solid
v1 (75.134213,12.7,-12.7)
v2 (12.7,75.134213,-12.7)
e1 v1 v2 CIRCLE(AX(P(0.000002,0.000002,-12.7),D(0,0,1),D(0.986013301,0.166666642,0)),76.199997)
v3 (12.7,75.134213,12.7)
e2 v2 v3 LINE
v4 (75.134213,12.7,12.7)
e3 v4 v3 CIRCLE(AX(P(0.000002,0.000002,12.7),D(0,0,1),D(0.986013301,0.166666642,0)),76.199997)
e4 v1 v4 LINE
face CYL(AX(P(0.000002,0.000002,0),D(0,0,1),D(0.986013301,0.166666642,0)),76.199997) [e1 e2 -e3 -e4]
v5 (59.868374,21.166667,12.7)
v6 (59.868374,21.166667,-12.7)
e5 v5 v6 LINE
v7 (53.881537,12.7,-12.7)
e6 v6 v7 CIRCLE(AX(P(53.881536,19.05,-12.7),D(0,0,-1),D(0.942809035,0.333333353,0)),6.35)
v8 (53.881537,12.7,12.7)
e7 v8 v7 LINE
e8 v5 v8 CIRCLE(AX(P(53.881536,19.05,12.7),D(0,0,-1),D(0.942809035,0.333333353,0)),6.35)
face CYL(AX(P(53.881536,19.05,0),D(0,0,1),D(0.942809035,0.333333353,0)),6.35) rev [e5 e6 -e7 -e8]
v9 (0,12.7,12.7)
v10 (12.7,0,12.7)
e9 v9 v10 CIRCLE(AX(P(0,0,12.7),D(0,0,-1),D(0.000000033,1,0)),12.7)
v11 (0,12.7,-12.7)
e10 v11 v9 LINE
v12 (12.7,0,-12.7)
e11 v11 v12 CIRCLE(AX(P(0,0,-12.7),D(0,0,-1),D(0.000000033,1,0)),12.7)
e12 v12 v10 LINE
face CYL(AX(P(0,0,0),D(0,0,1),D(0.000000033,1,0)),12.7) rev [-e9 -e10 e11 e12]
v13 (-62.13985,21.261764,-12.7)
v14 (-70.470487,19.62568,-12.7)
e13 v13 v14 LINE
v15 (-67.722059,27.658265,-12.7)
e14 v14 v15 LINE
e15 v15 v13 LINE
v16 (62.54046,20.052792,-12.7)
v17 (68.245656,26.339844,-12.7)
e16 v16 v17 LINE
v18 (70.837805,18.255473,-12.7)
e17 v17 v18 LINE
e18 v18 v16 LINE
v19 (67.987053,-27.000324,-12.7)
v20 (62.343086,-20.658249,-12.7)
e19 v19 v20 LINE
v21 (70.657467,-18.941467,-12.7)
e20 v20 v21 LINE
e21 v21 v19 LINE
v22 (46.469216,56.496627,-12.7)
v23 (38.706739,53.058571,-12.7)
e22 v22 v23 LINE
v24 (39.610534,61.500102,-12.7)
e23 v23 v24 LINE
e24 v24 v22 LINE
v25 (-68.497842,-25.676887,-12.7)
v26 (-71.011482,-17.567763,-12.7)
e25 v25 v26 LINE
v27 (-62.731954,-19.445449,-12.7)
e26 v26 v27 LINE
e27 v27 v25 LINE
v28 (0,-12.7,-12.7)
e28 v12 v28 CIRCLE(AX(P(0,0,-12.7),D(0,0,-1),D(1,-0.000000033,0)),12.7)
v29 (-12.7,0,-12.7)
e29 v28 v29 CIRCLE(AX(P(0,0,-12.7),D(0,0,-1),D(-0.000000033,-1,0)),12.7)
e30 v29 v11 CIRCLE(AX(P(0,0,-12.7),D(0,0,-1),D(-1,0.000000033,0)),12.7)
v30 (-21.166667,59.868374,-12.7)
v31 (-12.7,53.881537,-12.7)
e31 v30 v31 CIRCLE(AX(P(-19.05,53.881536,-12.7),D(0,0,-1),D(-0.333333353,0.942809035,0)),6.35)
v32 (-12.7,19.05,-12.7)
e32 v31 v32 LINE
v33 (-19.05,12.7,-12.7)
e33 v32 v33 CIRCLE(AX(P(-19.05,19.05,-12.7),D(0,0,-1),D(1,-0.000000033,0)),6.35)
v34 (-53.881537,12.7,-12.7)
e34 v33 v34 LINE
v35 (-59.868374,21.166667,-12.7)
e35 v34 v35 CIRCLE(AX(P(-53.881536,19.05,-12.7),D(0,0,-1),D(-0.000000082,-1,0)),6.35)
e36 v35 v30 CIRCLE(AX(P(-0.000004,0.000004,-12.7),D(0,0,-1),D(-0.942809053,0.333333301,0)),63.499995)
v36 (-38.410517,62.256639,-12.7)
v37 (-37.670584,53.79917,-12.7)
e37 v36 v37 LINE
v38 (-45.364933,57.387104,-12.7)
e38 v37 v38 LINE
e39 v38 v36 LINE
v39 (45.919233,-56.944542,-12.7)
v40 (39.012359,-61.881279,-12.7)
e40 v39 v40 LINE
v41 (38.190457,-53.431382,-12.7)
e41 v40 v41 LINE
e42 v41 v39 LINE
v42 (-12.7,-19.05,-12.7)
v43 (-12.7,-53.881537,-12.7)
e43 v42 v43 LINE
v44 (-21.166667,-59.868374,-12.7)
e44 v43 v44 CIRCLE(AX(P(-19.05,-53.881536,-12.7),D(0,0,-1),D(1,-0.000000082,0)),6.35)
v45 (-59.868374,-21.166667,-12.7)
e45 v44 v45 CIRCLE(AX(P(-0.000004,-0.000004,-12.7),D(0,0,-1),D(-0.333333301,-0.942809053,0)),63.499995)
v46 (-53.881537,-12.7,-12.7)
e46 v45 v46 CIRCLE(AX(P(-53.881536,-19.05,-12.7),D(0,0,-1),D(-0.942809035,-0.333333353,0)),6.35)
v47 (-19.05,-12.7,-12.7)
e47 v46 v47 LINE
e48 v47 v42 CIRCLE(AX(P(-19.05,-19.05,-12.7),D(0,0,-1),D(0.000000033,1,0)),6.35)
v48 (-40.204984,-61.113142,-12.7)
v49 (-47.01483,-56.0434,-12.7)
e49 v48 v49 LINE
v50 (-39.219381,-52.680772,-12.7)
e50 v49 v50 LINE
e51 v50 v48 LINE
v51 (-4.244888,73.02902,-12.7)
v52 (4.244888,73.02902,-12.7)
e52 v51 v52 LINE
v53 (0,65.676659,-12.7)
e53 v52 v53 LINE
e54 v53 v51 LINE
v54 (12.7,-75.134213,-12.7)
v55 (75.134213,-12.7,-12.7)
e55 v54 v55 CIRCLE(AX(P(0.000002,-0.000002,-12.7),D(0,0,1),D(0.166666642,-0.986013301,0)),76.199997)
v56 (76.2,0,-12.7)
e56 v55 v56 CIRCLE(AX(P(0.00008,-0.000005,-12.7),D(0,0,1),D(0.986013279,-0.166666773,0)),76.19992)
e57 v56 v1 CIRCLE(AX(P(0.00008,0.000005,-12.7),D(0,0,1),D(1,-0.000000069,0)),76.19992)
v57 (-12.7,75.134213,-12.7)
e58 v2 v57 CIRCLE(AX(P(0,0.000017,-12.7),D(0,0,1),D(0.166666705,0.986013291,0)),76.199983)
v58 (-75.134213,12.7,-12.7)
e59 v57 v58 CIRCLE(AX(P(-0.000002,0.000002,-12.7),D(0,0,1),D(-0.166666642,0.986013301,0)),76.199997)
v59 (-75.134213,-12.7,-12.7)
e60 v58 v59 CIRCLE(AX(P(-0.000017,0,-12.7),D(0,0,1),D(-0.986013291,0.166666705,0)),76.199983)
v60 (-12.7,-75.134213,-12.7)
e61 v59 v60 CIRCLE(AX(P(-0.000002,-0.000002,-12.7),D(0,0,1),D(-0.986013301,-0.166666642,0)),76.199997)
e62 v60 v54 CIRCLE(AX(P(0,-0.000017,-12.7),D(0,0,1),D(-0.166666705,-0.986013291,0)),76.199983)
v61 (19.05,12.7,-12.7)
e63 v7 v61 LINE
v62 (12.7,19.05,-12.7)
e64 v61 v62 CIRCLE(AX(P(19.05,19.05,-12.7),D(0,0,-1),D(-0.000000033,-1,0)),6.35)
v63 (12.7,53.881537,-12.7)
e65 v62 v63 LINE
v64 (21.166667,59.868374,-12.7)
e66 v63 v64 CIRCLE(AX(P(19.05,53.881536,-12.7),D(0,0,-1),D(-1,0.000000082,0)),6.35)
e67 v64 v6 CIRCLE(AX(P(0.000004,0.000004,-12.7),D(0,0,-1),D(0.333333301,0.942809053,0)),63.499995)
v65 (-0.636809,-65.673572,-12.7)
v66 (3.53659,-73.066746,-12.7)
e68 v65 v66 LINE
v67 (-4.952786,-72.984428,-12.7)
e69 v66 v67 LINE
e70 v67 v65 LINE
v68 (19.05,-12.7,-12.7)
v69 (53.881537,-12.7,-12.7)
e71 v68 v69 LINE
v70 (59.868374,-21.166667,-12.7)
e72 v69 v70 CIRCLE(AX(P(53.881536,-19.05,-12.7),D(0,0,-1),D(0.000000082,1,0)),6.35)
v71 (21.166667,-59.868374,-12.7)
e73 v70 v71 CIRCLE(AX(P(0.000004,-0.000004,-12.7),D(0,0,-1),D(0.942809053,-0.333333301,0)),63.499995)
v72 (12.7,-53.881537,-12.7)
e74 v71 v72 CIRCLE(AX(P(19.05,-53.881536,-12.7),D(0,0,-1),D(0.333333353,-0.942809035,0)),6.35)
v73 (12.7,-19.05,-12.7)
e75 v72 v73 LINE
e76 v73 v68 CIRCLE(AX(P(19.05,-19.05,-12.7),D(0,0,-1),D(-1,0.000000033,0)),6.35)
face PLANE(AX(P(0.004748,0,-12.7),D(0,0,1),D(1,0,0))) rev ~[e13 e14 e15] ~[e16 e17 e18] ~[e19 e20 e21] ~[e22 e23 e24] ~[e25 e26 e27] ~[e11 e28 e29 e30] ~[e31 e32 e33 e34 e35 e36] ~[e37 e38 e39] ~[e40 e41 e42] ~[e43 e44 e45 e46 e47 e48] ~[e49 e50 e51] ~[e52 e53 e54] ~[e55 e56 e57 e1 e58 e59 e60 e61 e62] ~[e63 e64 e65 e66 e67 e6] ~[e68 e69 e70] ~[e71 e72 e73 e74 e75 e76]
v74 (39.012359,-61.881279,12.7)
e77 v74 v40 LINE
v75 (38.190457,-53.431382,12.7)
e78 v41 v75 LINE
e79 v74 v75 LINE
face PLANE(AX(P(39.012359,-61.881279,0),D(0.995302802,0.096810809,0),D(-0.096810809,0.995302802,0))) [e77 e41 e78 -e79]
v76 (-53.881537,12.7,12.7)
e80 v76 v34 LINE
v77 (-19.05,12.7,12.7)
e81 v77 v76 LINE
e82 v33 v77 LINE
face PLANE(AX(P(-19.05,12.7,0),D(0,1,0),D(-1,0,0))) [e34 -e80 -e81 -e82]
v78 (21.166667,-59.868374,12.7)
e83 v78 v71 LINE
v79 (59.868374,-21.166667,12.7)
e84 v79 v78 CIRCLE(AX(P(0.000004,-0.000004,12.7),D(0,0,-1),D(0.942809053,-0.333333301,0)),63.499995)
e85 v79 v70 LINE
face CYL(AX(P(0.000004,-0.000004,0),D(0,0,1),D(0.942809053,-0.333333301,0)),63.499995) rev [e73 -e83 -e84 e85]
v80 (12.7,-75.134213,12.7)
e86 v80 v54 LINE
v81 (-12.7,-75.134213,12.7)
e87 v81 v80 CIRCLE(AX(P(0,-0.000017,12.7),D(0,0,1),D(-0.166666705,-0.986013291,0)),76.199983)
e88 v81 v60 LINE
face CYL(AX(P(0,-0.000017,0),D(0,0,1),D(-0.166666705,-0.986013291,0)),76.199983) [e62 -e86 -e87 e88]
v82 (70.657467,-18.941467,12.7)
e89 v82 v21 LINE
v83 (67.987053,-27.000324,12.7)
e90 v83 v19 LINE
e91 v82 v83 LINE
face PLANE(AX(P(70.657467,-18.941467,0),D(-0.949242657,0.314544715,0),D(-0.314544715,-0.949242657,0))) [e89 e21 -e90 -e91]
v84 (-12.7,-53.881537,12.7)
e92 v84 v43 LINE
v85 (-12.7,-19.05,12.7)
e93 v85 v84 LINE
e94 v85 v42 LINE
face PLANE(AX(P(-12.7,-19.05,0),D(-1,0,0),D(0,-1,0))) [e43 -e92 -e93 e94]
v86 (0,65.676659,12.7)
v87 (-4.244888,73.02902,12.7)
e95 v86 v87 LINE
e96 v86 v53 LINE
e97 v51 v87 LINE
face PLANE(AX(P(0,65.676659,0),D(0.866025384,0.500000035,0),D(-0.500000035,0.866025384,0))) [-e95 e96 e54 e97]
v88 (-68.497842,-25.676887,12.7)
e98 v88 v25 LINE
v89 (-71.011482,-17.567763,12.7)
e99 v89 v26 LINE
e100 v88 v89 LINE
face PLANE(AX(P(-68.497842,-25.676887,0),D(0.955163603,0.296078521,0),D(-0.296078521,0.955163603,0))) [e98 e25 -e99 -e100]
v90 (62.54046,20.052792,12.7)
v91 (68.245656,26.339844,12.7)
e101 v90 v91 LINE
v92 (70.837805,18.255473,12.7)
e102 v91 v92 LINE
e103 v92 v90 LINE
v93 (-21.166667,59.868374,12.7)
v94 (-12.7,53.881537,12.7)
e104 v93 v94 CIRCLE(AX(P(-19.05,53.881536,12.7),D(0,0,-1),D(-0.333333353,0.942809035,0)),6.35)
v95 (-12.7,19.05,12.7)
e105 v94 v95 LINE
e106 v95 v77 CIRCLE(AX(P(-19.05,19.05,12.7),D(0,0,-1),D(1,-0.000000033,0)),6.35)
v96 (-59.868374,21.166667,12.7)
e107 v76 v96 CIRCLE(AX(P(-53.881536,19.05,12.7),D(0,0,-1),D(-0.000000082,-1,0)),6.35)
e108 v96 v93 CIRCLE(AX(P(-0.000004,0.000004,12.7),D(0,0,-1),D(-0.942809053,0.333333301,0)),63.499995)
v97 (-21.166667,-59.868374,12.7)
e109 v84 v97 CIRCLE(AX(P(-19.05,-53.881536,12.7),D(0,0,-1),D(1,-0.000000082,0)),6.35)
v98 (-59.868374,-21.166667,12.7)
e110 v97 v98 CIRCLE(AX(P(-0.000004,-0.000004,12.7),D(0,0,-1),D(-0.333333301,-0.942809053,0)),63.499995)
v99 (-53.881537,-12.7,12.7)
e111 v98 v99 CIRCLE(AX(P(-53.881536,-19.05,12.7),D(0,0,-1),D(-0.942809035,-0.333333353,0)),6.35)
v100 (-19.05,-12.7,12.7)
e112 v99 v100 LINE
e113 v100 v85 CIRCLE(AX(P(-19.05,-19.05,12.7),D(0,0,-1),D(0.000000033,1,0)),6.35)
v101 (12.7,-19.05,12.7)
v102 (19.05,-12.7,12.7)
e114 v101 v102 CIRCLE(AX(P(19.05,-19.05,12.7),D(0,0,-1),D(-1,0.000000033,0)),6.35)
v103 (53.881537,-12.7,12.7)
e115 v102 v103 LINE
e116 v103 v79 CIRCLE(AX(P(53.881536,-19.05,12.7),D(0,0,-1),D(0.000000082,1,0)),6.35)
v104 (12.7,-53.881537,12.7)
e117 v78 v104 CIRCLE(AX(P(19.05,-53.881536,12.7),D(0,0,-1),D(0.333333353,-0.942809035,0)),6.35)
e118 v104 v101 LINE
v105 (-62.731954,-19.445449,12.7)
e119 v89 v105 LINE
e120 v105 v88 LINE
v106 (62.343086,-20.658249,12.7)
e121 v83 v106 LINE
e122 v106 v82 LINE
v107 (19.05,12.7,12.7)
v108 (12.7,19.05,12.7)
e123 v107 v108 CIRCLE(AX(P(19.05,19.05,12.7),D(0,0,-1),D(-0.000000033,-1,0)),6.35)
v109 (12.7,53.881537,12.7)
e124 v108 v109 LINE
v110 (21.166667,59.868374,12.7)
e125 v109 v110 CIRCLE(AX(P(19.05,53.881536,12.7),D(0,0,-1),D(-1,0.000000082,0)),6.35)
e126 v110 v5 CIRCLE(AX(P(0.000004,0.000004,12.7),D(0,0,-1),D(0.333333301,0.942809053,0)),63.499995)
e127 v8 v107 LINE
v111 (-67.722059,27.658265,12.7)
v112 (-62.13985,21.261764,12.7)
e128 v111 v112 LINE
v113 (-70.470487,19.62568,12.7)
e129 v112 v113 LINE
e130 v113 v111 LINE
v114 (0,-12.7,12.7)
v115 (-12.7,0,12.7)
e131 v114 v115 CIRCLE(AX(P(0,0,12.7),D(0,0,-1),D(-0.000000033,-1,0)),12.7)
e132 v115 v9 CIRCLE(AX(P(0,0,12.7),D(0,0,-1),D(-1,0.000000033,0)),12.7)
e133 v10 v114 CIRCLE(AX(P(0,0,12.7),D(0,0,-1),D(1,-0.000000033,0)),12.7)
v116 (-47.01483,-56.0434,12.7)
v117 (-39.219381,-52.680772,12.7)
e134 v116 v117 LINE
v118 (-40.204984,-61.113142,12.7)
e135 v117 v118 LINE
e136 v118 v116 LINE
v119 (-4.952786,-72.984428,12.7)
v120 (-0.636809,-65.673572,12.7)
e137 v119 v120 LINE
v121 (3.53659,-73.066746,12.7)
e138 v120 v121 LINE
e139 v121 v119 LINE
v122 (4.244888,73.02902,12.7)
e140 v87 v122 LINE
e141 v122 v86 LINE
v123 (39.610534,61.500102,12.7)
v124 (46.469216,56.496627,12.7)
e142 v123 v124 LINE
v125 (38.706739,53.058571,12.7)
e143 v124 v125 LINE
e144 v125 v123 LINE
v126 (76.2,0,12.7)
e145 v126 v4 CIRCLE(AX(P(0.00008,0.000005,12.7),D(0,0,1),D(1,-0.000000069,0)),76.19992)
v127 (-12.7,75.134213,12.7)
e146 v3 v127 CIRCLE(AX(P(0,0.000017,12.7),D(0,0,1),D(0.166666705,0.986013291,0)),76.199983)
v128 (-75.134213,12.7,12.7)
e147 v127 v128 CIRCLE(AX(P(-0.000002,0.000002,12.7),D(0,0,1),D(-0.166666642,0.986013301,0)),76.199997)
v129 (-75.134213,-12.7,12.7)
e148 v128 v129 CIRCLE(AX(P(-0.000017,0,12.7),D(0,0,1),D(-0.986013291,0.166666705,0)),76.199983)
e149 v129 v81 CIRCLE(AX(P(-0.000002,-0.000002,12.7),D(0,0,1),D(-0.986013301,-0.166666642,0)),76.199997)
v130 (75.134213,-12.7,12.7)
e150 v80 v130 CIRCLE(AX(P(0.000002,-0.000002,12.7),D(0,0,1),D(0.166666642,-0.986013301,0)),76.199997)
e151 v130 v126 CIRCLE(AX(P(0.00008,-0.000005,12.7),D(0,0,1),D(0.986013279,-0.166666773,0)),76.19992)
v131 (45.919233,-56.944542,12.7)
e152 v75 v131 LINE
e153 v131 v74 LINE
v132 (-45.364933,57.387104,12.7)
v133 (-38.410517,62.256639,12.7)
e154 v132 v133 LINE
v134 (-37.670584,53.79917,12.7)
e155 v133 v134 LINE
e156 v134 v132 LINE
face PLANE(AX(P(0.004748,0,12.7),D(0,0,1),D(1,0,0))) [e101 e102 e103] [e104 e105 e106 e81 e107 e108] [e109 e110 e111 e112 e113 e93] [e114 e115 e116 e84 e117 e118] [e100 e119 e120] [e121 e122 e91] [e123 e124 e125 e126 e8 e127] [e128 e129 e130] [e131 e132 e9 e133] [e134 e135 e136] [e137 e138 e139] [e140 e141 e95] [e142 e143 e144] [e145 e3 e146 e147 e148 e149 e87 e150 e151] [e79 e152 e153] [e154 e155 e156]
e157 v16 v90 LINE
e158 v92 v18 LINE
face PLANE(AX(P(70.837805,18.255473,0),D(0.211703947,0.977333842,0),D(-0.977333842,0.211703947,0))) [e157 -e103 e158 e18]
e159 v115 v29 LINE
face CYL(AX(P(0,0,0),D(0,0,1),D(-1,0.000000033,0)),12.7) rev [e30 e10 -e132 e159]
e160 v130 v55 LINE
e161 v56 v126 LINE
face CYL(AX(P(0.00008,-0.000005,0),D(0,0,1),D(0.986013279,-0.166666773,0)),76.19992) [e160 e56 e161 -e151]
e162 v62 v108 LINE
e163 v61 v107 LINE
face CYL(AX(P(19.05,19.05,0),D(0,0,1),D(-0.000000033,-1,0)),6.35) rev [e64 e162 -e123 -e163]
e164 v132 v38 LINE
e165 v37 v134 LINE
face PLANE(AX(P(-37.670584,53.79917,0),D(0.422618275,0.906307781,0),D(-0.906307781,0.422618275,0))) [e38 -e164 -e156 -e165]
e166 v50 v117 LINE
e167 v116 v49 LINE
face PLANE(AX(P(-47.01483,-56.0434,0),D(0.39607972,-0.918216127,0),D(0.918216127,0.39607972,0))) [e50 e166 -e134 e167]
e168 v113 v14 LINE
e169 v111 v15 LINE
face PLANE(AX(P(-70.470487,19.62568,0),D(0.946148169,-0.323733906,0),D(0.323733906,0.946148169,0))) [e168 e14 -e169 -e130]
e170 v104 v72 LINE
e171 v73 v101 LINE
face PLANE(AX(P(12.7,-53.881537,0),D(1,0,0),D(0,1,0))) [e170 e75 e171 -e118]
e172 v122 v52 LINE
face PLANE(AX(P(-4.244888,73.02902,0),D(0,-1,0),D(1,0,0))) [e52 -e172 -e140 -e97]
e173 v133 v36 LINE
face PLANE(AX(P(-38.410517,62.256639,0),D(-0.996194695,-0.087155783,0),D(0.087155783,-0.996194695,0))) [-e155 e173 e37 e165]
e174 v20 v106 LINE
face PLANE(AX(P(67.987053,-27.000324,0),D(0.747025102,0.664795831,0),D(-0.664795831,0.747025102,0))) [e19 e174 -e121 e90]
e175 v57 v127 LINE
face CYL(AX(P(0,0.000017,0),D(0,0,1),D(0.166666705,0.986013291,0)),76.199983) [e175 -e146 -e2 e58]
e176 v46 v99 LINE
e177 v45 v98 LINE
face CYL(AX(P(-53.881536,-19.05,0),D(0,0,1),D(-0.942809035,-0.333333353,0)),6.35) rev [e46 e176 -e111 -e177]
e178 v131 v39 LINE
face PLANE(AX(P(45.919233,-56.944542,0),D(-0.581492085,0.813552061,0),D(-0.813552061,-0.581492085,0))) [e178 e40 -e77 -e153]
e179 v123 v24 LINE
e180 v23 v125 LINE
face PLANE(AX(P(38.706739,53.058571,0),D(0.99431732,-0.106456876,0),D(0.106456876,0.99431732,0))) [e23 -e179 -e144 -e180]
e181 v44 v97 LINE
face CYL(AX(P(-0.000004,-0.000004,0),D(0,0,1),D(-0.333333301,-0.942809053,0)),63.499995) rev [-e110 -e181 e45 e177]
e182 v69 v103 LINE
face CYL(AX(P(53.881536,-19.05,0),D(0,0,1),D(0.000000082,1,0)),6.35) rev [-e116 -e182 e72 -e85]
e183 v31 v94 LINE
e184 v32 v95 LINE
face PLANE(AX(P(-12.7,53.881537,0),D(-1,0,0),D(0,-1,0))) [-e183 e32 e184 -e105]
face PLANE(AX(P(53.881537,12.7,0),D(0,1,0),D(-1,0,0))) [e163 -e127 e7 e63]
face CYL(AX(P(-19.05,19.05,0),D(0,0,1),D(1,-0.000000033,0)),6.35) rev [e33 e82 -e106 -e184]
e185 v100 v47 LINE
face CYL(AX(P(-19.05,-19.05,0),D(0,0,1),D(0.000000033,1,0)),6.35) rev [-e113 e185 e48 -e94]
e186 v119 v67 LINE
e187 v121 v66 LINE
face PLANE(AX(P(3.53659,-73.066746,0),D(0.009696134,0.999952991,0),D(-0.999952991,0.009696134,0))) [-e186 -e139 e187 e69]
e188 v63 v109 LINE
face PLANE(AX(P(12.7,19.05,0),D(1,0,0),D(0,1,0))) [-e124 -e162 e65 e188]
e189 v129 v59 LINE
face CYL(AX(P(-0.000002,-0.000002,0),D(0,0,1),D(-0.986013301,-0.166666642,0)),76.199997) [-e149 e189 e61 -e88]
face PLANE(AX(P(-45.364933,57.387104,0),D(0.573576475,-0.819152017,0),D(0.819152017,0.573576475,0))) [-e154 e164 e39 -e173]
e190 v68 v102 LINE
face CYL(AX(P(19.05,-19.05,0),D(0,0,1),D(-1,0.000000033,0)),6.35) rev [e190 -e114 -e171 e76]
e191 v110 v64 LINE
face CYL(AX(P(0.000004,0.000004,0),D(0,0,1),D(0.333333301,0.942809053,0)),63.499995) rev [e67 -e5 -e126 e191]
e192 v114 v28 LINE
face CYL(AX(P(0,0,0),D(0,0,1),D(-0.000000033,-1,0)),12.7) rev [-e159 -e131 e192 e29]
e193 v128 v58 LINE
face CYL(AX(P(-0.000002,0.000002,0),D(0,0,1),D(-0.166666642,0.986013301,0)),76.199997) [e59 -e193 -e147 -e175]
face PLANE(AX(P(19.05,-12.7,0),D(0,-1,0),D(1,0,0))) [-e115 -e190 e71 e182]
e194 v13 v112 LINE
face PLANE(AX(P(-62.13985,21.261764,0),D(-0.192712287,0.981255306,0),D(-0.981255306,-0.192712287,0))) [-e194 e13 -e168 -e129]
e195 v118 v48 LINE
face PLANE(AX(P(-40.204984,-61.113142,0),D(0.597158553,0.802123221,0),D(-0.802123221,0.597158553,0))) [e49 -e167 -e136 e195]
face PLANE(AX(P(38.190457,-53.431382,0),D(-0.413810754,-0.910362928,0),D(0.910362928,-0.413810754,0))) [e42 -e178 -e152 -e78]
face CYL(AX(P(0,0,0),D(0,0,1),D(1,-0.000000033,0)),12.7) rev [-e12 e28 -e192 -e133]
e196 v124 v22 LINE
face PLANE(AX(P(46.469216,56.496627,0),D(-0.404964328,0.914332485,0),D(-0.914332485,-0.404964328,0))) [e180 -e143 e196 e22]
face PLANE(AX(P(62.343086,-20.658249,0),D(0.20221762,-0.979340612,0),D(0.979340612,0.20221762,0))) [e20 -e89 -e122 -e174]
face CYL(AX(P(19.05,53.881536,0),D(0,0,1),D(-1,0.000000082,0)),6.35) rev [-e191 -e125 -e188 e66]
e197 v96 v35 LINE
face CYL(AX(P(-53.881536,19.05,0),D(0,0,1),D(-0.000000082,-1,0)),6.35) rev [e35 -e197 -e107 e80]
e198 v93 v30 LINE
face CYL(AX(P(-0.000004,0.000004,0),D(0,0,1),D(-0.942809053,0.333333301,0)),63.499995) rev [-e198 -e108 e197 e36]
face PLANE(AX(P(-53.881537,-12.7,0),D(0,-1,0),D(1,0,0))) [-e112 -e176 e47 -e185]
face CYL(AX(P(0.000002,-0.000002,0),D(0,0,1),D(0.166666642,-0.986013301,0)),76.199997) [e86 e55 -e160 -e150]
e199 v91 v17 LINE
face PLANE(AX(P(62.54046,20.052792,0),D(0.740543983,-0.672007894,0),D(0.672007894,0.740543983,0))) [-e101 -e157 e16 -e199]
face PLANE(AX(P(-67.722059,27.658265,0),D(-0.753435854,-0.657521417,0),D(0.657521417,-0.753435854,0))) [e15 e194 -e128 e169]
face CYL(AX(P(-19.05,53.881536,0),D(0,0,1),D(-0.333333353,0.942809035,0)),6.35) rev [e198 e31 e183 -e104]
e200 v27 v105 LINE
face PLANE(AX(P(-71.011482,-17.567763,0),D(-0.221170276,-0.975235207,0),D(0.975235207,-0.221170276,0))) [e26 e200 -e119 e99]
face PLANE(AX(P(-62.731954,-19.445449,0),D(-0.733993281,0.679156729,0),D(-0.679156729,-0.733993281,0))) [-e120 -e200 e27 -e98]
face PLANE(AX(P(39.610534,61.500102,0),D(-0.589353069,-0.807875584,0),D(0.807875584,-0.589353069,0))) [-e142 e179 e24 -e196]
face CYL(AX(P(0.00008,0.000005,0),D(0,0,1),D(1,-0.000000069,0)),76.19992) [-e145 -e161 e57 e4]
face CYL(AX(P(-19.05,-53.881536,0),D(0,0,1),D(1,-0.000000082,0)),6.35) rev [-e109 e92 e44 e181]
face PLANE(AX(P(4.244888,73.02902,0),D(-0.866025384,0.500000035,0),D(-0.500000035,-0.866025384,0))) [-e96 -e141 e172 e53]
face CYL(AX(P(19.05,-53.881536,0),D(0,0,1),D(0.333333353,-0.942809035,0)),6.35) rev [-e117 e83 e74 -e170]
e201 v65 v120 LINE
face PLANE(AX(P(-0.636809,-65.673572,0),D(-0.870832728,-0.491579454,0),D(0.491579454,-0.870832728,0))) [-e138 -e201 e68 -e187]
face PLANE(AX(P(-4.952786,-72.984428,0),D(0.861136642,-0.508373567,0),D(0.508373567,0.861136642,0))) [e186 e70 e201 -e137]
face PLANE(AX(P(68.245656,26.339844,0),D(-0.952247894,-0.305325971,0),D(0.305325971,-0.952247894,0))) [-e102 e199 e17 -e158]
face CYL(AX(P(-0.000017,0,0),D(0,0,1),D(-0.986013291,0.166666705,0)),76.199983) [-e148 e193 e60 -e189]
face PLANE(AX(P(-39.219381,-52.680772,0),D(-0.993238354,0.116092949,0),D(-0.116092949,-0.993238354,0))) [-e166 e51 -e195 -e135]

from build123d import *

# Parameters (mm, degrees)
F1_DEPTH = 12.7


with BuildPart() as f1:
    # F0 (on Top) → F1 (new body, symmetric)
    with BuildSketch(Plane.XY):
        with BuildLine():
            ThreePointArc((75.134213, -12.7), (75.933086, -6.372321), (76.2, 0))
            ThreePointArc((76.2, 0), (75.933086, 6.372321), (75.134213, 12.7))
            ThreePointArc((75.134213, 12.7), (53.881537, 53.881537), (12.7, 75.134213))
            ThreePointArc((12.7, 75.134213), (0, 76.2), (-12.7, 75.134213))
            ThreePointArc((-12.7, 75.134213), (-53.881537, 53.881537), (-75.134213, 12.7))
            ThreePointArc((-75.134213, 12.7), (-76.2, 0), (-75.134213, -12.7))
            ThreePointArc((-75.134213, -12.7), (-53.881537, -53.881537), (-12.7, -75.134213))
            ThreePointArc((-12.7, -75.134213), (0, -76.2), (12.7, -75.134213))
            ThreePointArc((12.7, -75.134213), (53.881537, -53.881537), (75.134213, -12.7))
        make_face()
        Polygon((-39.219381, -52.680772), (-40.204984, -61.113142), (-47.01483, -56.0434), align=None, mode=Mode.SUBTRACT)
        Polygon((-0.636809, -65.673572), (3.53659, -73.066746), (-4.952786, -72.984428), align=None, mode=Mode.SUBTRACT)
        Polygon((-62.731954, -19.445449), (-68.497842, -25.676887), (-71.011482, -17.567763), align=None, mode=Mode.SUBTRACT)
        with BuildLine():
            ThreePointArc((-21.166667, -59.868374), (-44.901281, -44.901281), (-59.868374, -21.166667))
            ThreePointArc((-59.868374, -21.166667), (-59.06629, -15.383826), (-53.881537, -12.7))
            Line((-53.881537, -12.7), (-19.05, -12.7))
            ThreePointArc((-19.05, -12.7), (-14.559872, -14.559872), (-12.7, -19.05))
            Line((-12.7, -19.05), (-12.7, -53.881537))
            ThreePointArc((-12.7, -53.881537), (-15.383826, -59.06629), (-21.166667, -59.868374))
        make_face(mode=Mode.SUBTRACT)
        Polygon((38.190457, -53.431382), (45.919233, -56.944542), (39.012359, -61.881279), align=None, mode=Mode.SUBTRACT)
        with BuildLine():
            ThreePointArc((12.7, -19.05), (14.559872, -14.559872), (19.05, -12.7))
            Line((19.05, -12.7), (53.881537, -12.7))
            ThreePointArc((53.881537, -12.7), (59.06629, -15.383826), (59.868374, -21.166667))
            ThreePointArc((59.868374, -21.166667), (44.901281, -44.901281), (21.166667, -59.868374))
            ThreePointArc((21.166667, -59.868374), (15.383826, -59.06629), (12.7, -53.881537))
            Line((12.7, -53.881537), (12.7, -19.05))
        make_face(mode=Mode.SUBTRACT)
        Polygon((62.343086, -20.658249), (70.657467, -18.941467), (67.987053, -27.000324), align=None, mode=Mode.SUBTRACT)
        Polygon((-62.13985, 21.261764), (-70.470487, 19.62568), (-67.722059, 27.658265), align=None, mode=Mode.SUBTRACT)
        with BuildLine():
            Line((-12.7, 53.881537), (-12.7, 19.05))
            ThreePointArc((-12.7, 19.05), (-14.559872, 14.559872), (-19.05, 12.7))
            Line((-19.05, 12.7), (-53.881537, 12.7))
            ThreePointArc((-53.881537, 12.7), (-59.06629, 15.383826), (-59.868374, 21.166667))
            ThreePointArc((-59.868374, 21.166667), (-44.901281, 44.901281), (-21.166667, 59.868374))
            ThreePointArc((-21.166667, 59.868374), (-15.383826, 59.06629), (-12.7, 53.881537))
        make_face(mode=Mode.SUBTRACT)
        Polygon((-37.670584, 53.79917), (-45.364933, 57.387104), (-38.410517, 62.256639), align=None, mode=Mode.SUBTRACT)
        with BuildLine():
            ThreePointArc((0, 12.7), (8.980256, 8.980256), (12.7, 0))
            ThreePointArc((12.7, 0), (8.980256, -8.980256), (0, -12.7))
            ThreePointArc((0, -12.7), (-8.980256, -8.980256), (-12.7, 0))
            ThreePointArc((-12.7, 0), (-8.980256, 8.980256), (0, 12.7))
        make_face(mode=Mode.SUBTRACT)
        with BuildLine():
            ThreePointArc((19.05, 12.7), (14.559872, 14.559872), (12.7, 19.05))
            Line((12.7, 19.05), (12.7, 53.881537))
            ThreePointArc((12.7, 53.881537), (15.383826, 59.06629), (21.166667, 59.868374))
            ThreePointArc((21.166667, 59.868374), (44.901281, 44.901281), (59.868374, 21.166667))
            ThreePointArc((59.868374, 21.166667), (59.06629, 15.383826), (53.881537, 12.7))
            Line((53.881537, 12.7), (19.05, 12.7))
        make_face(mode=Mode.SUBTRACT)
        Polygon((62.54046, 20.052792), (68.245656, 26.339844), (70.837805, 18.255473), align=None, mode=Mode.SUBTRACT)
        Polygon((-4.244888, 73.02902), (4.244888, 73.02902), (0, 65.676659), align=None, mode=Mode.SUBTRACT)
        Polygon((38.706739, 53.058571), (39.610534, 61.500102), (46.469216, 56.496627), align=None, mode=Mode.SUBTRACT)
    extrude(amount=F1_DEPTH, both=True)


solid = f1.part
